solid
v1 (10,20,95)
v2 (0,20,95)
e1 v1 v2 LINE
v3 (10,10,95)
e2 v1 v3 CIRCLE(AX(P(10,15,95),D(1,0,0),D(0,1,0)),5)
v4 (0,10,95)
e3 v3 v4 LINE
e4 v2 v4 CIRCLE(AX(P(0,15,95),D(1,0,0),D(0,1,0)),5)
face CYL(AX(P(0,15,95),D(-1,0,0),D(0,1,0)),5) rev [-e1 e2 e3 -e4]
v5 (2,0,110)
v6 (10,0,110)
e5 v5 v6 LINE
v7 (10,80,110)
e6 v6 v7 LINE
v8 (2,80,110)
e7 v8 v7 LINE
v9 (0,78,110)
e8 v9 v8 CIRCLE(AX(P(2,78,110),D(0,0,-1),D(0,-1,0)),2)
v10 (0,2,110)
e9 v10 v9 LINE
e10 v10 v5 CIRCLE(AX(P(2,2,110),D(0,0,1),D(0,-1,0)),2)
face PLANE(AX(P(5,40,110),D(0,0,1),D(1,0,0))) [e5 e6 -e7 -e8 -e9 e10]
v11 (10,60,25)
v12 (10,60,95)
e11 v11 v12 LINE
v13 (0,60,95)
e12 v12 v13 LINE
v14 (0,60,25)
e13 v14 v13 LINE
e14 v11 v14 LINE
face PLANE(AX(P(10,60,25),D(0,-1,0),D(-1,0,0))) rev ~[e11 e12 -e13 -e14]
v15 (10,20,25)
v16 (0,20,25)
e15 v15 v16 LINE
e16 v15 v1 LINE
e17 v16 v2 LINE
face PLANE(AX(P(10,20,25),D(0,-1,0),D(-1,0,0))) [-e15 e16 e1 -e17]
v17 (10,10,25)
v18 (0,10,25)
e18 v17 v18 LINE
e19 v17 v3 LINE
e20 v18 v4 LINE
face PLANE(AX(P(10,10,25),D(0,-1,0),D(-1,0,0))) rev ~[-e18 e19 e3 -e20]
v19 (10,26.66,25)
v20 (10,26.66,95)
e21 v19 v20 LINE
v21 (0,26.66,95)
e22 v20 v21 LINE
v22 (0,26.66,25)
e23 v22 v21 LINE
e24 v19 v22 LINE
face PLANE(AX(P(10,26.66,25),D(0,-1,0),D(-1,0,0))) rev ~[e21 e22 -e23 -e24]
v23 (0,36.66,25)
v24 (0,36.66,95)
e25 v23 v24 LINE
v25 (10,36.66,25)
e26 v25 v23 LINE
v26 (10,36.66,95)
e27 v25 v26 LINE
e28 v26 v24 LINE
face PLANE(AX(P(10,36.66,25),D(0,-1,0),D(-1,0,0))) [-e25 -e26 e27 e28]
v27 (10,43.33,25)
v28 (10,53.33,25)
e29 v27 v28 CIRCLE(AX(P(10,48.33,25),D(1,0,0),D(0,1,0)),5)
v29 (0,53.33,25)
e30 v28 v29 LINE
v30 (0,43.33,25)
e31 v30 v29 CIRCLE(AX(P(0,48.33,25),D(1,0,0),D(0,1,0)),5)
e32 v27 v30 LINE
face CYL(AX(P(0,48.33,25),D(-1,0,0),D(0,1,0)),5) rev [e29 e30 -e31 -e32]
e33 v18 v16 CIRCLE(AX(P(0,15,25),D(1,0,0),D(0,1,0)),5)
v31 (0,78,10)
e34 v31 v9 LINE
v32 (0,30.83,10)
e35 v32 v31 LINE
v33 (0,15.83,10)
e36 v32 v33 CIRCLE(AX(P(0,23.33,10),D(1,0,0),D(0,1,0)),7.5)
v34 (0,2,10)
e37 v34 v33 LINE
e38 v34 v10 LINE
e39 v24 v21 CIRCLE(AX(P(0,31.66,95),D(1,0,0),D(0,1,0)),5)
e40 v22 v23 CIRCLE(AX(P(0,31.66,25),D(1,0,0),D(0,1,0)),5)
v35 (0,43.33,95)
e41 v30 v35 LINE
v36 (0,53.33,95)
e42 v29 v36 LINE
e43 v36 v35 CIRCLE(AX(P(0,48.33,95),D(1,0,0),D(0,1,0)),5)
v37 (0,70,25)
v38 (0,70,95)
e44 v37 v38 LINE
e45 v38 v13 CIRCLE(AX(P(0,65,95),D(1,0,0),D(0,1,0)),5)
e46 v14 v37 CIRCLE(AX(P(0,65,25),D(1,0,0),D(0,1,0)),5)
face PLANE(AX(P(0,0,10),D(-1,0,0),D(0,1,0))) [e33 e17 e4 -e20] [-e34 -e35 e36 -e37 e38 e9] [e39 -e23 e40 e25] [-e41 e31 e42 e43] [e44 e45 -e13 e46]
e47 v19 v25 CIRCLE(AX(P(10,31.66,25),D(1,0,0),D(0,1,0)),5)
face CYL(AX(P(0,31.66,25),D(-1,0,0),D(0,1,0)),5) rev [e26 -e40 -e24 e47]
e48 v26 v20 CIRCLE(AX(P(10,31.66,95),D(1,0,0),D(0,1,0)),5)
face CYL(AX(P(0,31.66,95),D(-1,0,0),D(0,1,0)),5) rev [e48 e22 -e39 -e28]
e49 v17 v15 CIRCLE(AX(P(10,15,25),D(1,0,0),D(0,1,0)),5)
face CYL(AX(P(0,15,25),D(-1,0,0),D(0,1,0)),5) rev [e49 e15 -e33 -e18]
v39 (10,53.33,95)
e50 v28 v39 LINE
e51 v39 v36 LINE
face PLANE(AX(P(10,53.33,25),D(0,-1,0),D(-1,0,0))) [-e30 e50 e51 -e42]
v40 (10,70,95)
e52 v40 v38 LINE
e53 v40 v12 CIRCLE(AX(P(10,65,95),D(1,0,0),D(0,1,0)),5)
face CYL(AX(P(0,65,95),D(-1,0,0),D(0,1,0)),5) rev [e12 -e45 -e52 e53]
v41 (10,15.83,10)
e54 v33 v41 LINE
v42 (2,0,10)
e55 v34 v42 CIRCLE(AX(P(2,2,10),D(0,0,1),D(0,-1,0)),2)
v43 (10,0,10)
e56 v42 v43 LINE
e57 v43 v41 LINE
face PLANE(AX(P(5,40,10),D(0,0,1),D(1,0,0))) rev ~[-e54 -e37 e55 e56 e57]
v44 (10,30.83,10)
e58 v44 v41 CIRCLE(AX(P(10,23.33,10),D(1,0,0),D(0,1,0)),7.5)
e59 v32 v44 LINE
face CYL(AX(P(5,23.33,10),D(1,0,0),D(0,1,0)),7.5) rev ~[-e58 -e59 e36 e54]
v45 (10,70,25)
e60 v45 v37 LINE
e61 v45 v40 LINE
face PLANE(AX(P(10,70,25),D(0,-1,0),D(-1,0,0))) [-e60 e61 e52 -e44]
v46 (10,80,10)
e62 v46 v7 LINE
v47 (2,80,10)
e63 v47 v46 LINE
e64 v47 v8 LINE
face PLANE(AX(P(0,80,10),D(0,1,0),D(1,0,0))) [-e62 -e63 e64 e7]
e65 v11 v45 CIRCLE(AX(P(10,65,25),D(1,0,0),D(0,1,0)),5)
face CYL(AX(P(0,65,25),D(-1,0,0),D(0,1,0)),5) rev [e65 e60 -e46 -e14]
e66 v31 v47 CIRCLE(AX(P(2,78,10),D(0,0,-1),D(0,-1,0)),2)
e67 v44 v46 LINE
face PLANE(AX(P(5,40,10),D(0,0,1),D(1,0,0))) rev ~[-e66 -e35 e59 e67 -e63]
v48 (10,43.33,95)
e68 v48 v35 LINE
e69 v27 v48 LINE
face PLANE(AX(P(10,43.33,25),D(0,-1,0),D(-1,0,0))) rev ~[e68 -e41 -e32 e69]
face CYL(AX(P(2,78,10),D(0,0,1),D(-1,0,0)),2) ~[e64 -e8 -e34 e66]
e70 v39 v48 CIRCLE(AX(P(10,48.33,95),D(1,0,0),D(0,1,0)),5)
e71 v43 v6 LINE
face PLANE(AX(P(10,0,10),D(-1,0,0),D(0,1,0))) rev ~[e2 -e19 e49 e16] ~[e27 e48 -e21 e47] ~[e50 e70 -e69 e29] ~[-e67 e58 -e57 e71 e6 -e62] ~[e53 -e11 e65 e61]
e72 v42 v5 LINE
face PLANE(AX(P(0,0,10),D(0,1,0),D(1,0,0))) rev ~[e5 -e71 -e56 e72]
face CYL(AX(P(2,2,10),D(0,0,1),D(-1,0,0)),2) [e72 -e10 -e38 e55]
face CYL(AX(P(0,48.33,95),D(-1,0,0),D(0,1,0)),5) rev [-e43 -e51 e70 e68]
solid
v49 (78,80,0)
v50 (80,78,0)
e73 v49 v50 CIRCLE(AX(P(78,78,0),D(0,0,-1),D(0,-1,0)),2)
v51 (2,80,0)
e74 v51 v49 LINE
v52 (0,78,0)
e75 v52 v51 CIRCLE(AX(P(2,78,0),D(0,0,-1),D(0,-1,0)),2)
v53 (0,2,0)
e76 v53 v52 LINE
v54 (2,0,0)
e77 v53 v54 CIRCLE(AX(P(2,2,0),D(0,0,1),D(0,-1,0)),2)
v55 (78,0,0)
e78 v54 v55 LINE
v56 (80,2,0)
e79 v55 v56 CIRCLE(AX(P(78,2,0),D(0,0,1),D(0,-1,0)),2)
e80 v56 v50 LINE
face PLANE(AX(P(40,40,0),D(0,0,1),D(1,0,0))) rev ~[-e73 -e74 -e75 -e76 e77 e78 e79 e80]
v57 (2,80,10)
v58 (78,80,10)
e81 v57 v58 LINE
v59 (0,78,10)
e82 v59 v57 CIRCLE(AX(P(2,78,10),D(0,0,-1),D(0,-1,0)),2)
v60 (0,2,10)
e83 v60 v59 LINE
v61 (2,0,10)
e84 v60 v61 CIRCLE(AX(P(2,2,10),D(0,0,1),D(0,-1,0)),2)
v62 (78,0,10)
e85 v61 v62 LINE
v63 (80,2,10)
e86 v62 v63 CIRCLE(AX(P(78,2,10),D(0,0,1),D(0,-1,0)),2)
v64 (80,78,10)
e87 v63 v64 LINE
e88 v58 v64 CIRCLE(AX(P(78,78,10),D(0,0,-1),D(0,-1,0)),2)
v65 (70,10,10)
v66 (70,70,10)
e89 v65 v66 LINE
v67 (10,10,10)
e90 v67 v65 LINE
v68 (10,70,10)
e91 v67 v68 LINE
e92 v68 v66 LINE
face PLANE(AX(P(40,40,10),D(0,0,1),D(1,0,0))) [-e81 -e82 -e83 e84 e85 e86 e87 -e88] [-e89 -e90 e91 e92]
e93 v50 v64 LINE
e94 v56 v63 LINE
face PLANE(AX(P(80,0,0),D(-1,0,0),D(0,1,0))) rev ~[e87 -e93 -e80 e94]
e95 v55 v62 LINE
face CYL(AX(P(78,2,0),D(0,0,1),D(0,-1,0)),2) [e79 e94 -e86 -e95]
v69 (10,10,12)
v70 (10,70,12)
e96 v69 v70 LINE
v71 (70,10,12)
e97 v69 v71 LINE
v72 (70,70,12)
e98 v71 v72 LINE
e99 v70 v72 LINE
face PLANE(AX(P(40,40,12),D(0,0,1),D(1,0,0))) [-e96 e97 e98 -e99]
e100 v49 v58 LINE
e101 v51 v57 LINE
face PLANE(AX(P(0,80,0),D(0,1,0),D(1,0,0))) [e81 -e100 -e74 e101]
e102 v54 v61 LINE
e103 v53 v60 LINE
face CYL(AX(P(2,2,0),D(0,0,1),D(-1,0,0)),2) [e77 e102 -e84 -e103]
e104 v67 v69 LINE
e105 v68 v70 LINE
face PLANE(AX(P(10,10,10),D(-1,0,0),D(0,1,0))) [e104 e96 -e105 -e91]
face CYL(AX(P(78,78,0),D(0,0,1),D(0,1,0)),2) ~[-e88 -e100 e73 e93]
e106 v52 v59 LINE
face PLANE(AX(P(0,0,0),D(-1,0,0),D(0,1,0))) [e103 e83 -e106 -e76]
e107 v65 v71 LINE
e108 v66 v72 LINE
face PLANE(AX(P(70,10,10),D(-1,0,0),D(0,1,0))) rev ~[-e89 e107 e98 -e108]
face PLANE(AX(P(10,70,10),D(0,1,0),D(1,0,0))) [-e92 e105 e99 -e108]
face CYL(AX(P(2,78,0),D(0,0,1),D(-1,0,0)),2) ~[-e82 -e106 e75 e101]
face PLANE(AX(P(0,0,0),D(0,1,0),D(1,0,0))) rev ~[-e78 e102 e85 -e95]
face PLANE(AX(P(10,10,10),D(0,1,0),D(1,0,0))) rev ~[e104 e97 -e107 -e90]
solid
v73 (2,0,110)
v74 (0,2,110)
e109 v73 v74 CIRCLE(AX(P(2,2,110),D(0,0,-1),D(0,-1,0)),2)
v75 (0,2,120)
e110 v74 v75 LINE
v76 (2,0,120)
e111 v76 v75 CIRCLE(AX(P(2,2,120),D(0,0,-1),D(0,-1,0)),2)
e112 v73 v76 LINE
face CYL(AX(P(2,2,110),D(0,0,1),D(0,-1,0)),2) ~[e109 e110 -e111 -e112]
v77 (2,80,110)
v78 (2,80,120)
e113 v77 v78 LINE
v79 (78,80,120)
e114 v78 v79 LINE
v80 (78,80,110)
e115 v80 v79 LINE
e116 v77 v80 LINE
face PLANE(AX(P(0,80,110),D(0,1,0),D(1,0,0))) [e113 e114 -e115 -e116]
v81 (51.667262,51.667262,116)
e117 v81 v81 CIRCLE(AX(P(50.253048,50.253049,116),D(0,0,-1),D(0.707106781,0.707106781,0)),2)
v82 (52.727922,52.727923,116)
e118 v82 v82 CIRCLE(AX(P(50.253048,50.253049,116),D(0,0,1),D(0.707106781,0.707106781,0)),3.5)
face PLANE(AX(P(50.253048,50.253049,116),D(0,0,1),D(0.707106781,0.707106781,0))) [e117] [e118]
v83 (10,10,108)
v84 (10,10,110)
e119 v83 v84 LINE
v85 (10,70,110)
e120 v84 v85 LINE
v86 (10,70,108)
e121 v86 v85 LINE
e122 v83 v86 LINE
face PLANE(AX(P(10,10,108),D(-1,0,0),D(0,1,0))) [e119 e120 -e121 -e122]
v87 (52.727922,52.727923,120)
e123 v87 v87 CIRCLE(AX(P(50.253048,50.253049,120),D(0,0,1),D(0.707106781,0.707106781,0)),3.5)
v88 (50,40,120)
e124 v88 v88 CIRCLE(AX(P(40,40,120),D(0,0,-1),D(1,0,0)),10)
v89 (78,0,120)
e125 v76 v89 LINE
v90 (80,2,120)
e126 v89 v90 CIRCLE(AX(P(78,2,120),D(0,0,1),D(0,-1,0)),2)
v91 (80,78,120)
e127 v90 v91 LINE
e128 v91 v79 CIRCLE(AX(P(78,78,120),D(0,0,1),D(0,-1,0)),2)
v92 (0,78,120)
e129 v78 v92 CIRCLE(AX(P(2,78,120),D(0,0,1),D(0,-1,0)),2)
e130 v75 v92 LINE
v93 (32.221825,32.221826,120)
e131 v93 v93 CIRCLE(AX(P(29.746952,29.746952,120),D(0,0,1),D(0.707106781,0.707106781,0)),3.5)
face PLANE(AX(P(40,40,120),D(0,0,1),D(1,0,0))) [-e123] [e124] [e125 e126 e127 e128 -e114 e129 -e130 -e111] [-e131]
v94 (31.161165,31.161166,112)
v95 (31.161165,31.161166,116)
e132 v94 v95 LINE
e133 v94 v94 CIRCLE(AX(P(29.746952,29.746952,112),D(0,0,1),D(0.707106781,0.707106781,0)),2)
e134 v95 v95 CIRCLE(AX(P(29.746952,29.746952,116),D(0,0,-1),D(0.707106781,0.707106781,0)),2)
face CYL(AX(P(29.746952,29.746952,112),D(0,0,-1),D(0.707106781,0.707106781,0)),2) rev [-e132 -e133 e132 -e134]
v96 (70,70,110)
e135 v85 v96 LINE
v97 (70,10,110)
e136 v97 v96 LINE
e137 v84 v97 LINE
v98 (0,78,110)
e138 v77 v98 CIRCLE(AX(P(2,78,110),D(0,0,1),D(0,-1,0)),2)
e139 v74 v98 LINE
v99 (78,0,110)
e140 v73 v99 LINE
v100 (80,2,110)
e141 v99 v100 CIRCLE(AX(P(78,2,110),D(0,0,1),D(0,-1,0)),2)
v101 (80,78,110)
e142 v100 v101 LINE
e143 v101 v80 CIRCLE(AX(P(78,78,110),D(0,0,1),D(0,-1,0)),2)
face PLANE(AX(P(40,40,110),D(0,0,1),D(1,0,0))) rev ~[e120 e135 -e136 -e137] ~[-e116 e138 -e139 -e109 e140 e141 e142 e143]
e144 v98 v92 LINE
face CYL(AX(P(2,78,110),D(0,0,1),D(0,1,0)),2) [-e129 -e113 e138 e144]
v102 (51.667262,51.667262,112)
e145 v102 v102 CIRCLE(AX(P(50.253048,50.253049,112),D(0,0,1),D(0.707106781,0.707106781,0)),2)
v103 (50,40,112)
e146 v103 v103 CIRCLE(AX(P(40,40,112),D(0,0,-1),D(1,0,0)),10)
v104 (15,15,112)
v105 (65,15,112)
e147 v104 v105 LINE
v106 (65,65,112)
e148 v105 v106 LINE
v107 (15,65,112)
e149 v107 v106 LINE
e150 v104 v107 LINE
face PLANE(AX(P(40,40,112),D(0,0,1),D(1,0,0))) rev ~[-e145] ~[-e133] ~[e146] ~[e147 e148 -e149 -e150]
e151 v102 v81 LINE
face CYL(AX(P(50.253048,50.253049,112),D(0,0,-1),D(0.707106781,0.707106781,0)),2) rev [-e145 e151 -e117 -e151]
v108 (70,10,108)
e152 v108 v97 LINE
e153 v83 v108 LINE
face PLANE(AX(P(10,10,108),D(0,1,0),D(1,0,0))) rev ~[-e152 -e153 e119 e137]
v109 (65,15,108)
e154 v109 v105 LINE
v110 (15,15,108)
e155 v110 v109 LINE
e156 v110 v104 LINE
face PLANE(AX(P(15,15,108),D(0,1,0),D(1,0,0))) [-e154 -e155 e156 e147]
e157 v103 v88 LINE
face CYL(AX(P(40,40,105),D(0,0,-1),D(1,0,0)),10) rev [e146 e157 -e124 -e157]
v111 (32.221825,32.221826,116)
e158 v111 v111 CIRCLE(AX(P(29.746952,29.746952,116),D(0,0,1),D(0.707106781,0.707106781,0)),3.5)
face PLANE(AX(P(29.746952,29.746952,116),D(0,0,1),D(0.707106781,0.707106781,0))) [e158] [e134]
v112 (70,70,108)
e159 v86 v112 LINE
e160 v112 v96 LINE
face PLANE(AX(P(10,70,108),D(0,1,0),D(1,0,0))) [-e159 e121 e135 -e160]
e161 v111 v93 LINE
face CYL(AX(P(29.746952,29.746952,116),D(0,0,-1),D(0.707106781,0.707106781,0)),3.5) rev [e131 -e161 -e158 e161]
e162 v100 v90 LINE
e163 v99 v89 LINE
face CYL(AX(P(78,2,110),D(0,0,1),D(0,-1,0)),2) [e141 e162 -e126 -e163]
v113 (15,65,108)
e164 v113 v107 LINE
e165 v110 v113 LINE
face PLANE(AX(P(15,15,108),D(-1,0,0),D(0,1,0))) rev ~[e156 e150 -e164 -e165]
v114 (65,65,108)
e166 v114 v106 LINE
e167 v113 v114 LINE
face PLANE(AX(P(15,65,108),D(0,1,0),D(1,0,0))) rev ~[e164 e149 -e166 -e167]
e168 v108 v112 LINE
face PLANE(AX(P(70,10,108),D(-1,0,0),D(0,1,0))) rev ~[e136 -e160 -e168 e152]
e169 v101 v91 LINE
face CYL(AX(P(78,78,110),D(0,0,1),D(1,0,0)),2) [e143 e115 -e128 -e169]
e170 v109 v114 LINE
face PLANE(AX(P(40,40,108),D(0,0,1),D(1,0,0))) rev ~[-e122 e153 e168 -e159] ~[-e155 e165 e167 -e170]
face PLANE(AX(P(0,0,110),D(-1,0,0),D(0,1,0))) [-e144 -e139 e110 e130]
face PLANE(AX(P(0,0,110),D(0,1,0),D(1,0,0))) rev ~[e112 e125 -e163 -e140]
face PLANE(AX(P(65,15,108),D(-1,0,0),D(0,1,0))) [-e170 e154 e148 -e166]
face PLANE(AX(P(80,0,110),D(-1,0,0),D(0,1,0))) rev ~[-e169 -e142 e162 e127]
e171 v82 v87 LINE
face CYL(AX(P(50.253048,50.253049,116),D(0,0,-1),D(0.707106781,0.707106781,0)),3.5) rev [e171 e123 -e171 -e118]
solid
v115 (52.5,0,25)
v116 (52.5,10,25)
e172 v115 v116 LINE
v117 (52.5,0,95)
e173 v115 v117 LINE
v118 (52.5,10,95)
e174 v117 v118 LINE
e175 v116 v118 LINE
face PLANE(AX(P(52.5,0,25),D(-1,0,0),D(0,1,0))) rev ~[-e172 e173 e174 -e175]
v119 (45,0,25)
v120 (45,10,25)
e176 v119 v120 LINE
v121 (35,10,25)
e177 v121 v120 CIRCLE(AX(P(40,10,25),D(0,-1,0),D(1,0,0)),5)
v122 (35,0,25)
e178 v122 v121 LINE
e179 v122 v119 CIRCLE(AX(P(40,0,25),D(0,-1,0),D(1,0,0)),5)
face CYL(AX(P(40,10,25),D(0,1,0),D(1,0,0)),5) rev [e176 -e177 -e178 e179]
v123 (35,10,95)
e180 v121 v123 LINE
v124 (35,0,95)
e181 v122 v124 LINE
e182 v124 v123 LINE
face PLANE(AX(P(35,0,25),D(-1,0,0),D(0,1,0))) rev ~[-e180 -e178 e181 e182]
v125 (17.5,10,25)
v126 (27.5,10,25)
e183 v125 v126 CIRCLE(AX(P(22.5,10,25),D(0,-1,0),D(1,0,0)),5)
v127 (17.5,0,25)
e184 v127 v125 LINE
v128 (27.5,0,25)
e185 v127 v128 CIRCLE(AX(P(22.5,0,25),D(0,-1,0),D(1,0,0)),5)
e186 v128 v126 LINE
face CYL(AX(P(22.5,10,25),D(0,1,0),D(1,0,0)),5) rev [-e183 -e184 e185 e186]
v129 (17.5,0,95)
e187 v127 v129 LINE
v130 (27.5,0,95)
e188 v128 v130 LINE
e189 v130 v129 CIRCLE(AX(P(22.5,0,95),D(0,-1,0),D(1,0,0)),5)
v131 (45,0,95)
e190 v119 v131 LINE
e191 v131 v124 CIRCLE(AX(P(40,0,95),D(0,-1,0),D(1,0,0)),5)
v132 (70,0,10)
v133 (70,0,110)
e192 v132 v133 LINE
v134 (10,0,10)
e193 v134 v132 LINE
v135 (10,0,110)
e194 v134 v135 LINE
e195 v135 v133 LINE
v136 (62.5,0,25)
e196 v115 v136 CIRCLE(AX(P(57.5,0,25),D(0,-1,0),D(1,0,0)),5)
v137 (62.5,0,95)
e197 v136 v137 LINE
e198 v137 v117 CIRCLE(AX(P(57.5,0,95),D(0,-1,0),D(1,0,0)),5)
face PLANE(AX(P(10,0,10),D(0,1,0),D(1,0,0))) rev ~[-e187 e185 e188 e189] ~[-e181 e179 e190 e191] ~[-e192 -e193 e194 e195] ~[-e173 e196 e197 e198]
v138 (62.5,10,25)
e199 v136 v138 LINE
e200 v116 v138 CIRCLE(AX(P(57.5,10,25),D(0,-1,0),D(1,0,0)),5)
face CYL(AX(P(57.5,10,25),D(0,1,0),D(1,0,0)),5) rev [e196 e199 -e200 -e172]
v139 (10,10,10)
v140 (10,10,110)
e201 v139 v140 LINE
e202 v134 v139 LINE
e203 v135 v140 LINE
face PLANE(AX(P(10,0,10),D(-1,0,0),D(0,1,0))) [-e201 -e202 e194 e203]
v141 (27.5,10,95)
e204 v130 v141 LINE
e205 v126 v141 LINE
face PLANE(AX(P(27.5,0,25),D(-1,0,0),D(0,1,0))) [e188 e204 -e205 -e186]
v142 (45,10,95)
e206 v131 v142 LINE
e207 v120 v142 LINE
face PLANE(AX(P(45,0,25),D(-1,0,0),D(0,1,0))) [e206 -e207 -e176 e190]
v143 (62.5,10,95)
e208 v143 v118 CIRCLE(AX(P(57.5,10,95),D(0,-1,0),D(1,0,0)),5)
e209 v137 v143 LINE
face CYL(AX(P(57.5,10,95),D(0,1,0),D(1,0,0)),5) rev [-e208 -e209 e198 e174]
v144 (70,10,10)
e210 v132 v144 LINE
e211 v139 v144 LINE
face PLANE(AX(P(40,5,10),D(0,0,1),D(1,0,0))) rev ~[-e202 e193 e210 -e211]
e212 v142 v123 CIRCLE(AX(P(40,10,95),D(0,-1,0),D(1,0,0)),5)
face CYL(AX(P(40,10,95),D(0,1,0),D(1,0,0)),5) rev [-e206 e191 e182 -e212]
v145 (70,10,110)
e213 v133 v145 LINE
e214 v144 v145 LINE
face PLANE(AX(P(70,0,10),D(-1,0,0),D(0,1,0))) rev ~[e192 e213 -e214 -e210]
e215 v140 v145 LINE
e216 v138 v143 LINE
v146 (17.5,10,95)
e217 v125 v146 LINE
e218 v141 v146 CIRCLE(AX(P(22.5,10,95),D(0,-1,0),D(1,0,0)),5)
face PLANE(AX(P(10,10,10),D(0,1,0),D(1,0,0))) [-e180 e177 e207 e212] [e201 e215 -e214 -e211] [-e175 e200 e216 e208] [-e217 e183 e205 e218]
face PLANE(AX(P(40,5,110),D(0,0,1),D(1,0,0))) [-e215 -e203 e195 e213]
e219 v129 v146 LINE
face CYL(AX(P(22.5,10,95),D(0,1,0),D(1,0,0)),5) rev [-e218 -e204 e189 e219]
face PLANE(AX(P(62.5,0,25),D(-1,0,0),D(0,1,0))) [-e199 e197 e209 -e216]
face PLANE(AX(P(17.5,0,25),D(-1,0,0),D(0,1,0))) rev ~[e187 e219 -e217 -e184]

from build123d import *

# Parameters (mm, degrees)
BOX004_W                  = 60
BOX004_H                  = 60
BOX004_DEPTH              = 2
BOX_W                     = 80
BOX_H                     = 80
BOX_DEPTH                 = 10
FILLET005_R               = 2
CYLINDER002_R             = 5
CYLINDER002_DEPTH         = 10
CYLINDER003_R             = 5
CYLINDER003_DEPTH         = 10
BOX008_W                  = 10
BOX008_H                  = 10
BOX008_DEPTH              = 70
CYLINDER004_R             = 5
CYLINDER004_DEPTH         = 10
CYLINDER005_R             = 5
CYLINDER005_DEPTH         = 10
BOX009_W                  = 10
BOX009_H                  = 10
BOX009_DEPTH              = 70
CYLINDER_R                = 5
CYLINDER_DEPTH            = 10
CYLINDER001_R             = 5
CYLINDER001_DEPTH         = 10
BOX007_W                  = 10
BOX007_H                  = 10
BOX007_DEPTH              = 70
BOX001_W                  = 60
BOX001_H                  = 10
BOX001_DEPTH              = 100
CYLINDER014_W             = 7.5
CYLINDER014_H             = 10
CYLINDER014_ANGLE         = 180
CYLINDER007_R             = 5
CYLINDER007_DEPTH         = 10
CYLINDER006_R             = 5
CYLINDER006_DEPTH         = 10
BOX010_W                  = 10
BOX010_H                  = 10
BOX010_DEPTH              = 70
FUSION003_PLACEMENT_ANGLE = 90
CYLINDER008_R             = 5
CYLINDER008_DEPTH         = 10
CYLINDER009_R             = 5
CYLINDER009_DEPTH         = 10
BOX011_W                  = 10
BOX011_H                  = 10
BOX011_DEPTH              = 70
FUSION004_PLACEMENT_ANGLE = 90
CYLINDER010_R             = 5
CYLINDER010_DEPTH         = 10
CYLINDER011_R             = 5
CYLINDER011_DEPTH         = 10
BOX012_W                  = 10
BOX012_H                  = 10
BOX012_DEPTH              = 70
FUSION005_PLACEMENT_ANGLE = 90
CYLINDER012_R             = 5
CYLINDER012_DEPTH         = 10
CYLINDER013_R             = 5
CYLINDER013_DEPTH         = 10
BOX013_W                  = 10
BOX013_H                  = 10
BOX013_DEPTH              = 70
FUSION006_PLACEMENT_ANGLE = 90
BOX002_W                  = 10
BOX002_H                  = 80
BOX002_DEPTH              = 100
FILLET001_R               = 2
FILLET011_R               = 2
CYLINDER033_R             = 10
CYLINDER033_DEPTH         = 20
CYLINDER031_R             = 3.5
CYLINDER031_DEPTH         = 4
CYLINDER032_R             = 2
CYLINDER032_DEPTH         = 20
CYLINDER030_R             = 3.5
CYLINDER030_DEPTH         = 4
CYLINDER029_R             = 2
CYLINDER029_DEPTH         = 20
FUSION014_PLACEMENT_ANGLE = 45
BOX020_W                  = 60
BOX020_H                  = 60
BOX020_DEPTH              = 8
BOX019_W                  = 50
BOX019_H                  = 50
BOX019_DEPTH              = 4
CYLINDER028_R             = 10
CYLINDER028_DEPTH         = 30
CYLINDER027_R             = 2
CYLINDER027_DEPTH         = 30
CYLINDER026_R             = 2
CYLINDER026_DEPTH         = 30
CYLINDER025_R             = 3.5
CYLINDER025_DEPTH         = 4
BOX005_W                  = 60
BOX005_H                  = 60
BOX005_DEPTH              = 2
CYLINDER023_R             = 3.5
CYLINDER023_DEPTH         = 4
CYLINDER024_R             = 2
CYLINDER024_DEPTH         = 20
CYLINDER022_R             = 2
CYLINDER022_DEPTH         = 20
CYLINDER021_R             = 10
CYLINDER021_DEPTH         = 15
BOX018_W                  = 60
BOX018_H                  = 60
BOX018_DEPTH              = 2
BOX017_W                  = 80
BOX017_H                  = 80
BOX017_DEPTH              = 10
FILLET006_R               = 2
FILLET007_R               = 2
FILLET008_R               = 2
FILLET009_R               = 2


with BuildPart() as cubo004:
    # Box004 → Box004 (new body)
    with BuildSketch(Plane(origin=(10, 10, 10), x_dir=(1, 0, 0), z_dir=(0, 0, 1))):
        with Locations((30, 30)):
            Rectangle(BOX004_W, BOX004_H)
    extrude(amount=BOX004_DEPTH)


with BuildPart() as fillet005:
    # Box → Box (new body)
    with BuildSketch(Plane.XY):
        with Locations((40, 40)):
            Rectangle(BOX_W, BOX_H)
    extrude(amount=BOX_DEPTH)

    # Fusion008: union Cubo004
    add(cubo004.part)

    # Fillet005
    fillet005_edges = [fillet005.edges().sort_by_distance(p)[0] for p in [
        (0, 0, 5),
        (0, 80, 5),
        (80, 0, 5),
        (80, 80, 5),
    ]]
    fillet(fillet005_edges, radius=FILLET005_R)


with BuildPart() as cilindro002:
    # Cylinder002 → Cylinder002 (new body)
    with BuildSketch(Plane(origin=(15, 10, 25), x_dir=(1, 0, 0), z_dir=(0, -1, 0))):
        Circle(CYLINDER002_R)
    extrude(amount=CYLINDER002_DEPTH)


with BuildPart() as cilindro003:
    # Cylinder003 → Cylinder003 (new body)
    with BuildSketch(Plane(origin=(15, 10, 95), x_dir=(1, 0, 0), z_dir=(0, -1, 0))):
        Circle(CYLINDER003_R)
    extrude(amount=CYLINDER003_DEPTH)


with BuildPart() as fusion001:
    # Box008 → Box008 (new body)
    with BuildSketch(Plane(origin=(10, 0, 25), x_dir=(1, 0, 0), z_dir=(0, 0, 1))):
        with Locations((5, 5)):
            Rectangle(BOX008_W, BOX008_H)
    extrude(amount=BOX008_DEPTH)

    # Fusion001: union Cilindro002, Cilindro003
    add(cilindro002.part)
    add(cilindro003.part)


with BuildPart() as fusion001_1:
    # Fusion001 placement: moved
    add(fusion001.part.moved(Location((25, 0, 0))))


with BuildPart() as cilindro004:
    # Cylinder004 → Cylinder004 (new body)
    with BuildSketch(Plane(origin=(15, 10, 25), x_dir=(1, 0, 0), z_dir=(0, -1, 0))):
        Circle(CYLINDER004_R)
    extrude(amount=CYLINDER004_DEPTH)


with BuildPart() as cilindro005:
    # Cylinder005 → Cylinder005 (new body)
    with BuildSketch(Plane(origin=(15, 10, 95), x_dir=(1, 0, 0), z_dir=(0, -1, 0))):
        Circle(CYLINDER005_R)
    extrude(amount=CYLINDER005_DEPTH)


with BuildPart() as fusion002:
    # Box009 → Box009 (new body)
    with BuildSketch(Plane(origin=(10, 0, 25), x_dir=(1, 0, 0), z_dir=(0, 0, 1))):
        with Locations((5, 5)):
            Rectangle(BOX009_W, BOX009_H)
    extrude(amount=BOX009_DEPTH)

    # Fusion002: union Cilindro004, Cilindro005
    add(cilindro004.part)
    add(cilindro005.part)


with BuildPart() as fusion002_1:
    # Fusion002 placement: moved
    add(fusion002.part.moved(Location((42.5, 0, 0))))


with BuildPart() as cilindro:
    # Cylinder → Cylinder (new body)
    with BuildSketch(Plane(origin=(15, 10, 25), x_dir=(1, 0, 0), z_dir=(0, -1, 0))):
        Circle(CYLINDER_R)
    extrude(amount=CYLINDER_DEPTH)


with BuildPart() as cilindro001:
    # Cylinder001 → Cylinder001 (new body)
    with BuildSketch(Plane(origin=(15, 10, 95), x_dir=(1, 0, 0), z_dir=(0, -1, 0))):
        Circle(CYLINDER001_R)
    extrude(amount=CYLINDER001_DEPTH)


with BuildPart() as fusion:
    # Box007 → Box007 (new body)
    with BuildSketch(Plane(origin=(10, 0, 25), x_dir=(1, 0, 0), z_dir=(0, 0, 1))):
        with Locations((5, 5)):
            Rectangle(BOX007_W, BOX007_H)
    extrude(amount=BOX007_DEPTH)

    # Fusion: union Cilindro, Cilindro001
    add(cilindro.part)
    add(cilindro001.part)


with BuildPart() as fusion_1:
    # Fusion placement: moved
    add(fusion.part.moved(Location((7.5, 0, 0))))


with BuildPart() as cut019:
    # Box001 → Box001 (new body)
    with BuildSketch(Plane(origin=(10, 0, 10), x_dir=(1, 0, 0), z_dir=(0, 0, 1))):
        with Locations((30, 5)):
            Rectangle(BOX001_W, BOX001_H)
    extrude(amount=BOX001_DEPTH)

    # Cut001: cut Fusion
    add(fusion_1.part, mode=Mode.SUBTRACT)

    # Cut018: cut Fusion002
    add(fusion002_1.part, mode=Mode.SUBTRACT)

    # Cut019: cut Fusion001
    add(fusion001_1.part, mode=Mode.SUBTRACT)


with BuildPart() as cilindro014:
    # Cylinder014 → Cylinder014 (revolve)
    with BuildSketch(Plane(origin=(0, 23.33, 10), x_dir=(0, 1, 0), z_dir=(0, 0, -1))):
        with Locations((3.75, 5)):
            Rectangle(CYLINDER014_W, CYLINDER014_H)
    revolve(axis=Axis((0, 23.33, 10), (1, 0, 0)), revolution_arc=CYLINDER014_ANGLE)


with BuildPart() as cilindro007:
    # Cylinder007 → Cylinder007 (new body)
    with BuildSketch(Plane(origin=(15, 10, 25), x_dir=(1, 0, 0), z_dir=(0, -1, 0))):
        Circle(CYLINDER007_R)
    extrude(amount=CYLINDER007_DEPTH)


with BuildPart() as cilindro006:
    # Cylinder006 → Cylinder006 (new body)
    with BuildSketch(Plane(origin=(15, 10, 95), x_dir=(1, 0, 0), z_dir=(0, -1, 0))):
        Circle(CYLINDER006_R)
    extrude(amount=CYLINDER006_DEPTH)


with BuildPart() as fusion003:
    # Box010 → Box010 (new body)
    with BuildSketch(Plane(origin=(10, 0, 25), x_dir=(1, 0, 0), z_dir=(0, 0, 1))):
        with Locations((5, 5)):
            Rectangle(BOX010_W, BOX010_H)
    extrude(amount=BOX010_DEPTH)

    # Fusion003: union Cilindro007, Cilindro006
    add(cilindro007.part)
    add(cilindro006.part)


with BuildPart() as fusion003_1:
    # Fusion003 placement: moved
    add(fusion003.part.moved(Location((10, 0, 0))).rotate(Axis((10, 0, 0), (0, 0, 1)), FUSION003_PLACEMENT_ANGLE))


with BuildPart() as cilindro008:
    # Cylinder008 → Cylinder008 (new body)
    with BuildSketch(Plane(origin=(15, 10, 25), x_dir=(1, 0, 0), z_dir=(0, -1, 0))):
        Circle(CYLINDER008_R)
    extrude(amount=CYLINDER008_DEPTH)


with BuildPart() as cilindro009:
    # Cylinder009 → Cylinder009 (new body)
    with BuildSketch(Plane(origin=(15, 10, 95), x_dir=(1, 0, 0), z_dir=(0, -1, 0))):
        Circle(CYLINDER009_R)
    extrude(amount=CYLINDER009_DEPTH)


with BuildPart() as fusion004:
    # Box011 → Box011 (new body)
    with BuildSketch(Plane(origin=(10, 0, 25), x_dir=(1, 0, 0), z_dir=(0, 0, 1))):
        with Locations((5, 5)):
            Rectangle(BOX011_W, BOX011_H)
    extrude(amount=BOX011_DEPTH)

    # Fusion004: union Cilindro008, Cilindro009
    add(cilindro008.part)
    add(cilindro009.part)


with BuildPart() as fusion004_1:
    # Fusion004 placement: moved
    add(fusion004.part.moved(Location((10, 16.66, 0))).rotate(Axis((10, 16.66, 0), (0, 0, 1)), FUSION004_PLACEMENT_ANGLE))


with BuildPart() as cilindro010:
    # Cylinder010 → Cylinder010 (new body)
    with BuildSketch(Plane(origin=(15, 10, 25), x_dir=(1, 0, 0), z_dir=(0, -1, 0))):
        Circle(CYLINDER010_R)
    extrude(amount=CYLINDER010_DEPTH)


with BuildPart() as cilindro011:
    # Cylinder011 → Cylinder011 (new body)
    with BuildSketch(Plane(origin=(15, 10, 95), x_dir=(1, 0, 0), z_dir=(0, -1, 0))):
        Circle(CYLINDER011_R)
    extrude(amount=CYLINDER011_DEPTH)


with BuildPart() as fusion005:
    # Box012 → Box012 (new body)
    with BuildSketch(Plane(origin=(10, 0, 25), x_dir=(1, 0, 0), z_dir=(0, 0, 1))):
        with Locations((5, 5)):
            Rectangle(BOX012_W, BOX012_H)
    extrude(amount=BOX012_DEPTH)

    # Fusion005: union Cilindro010, Cilindro011
    add(cilindro010.part)
    add(cilindro011.part)


with BuildPart() as fusion005_1:
    # Fusion005 placement: moved
    add(fusion005.part.moved(Location((10, 33.33, 0))).rotate(Axis((10, 33.33, 0), (0, 0, 1)), FUSION005_PLACEMENT_ANGLE))


with BuildPart() as cilindro012:
    # Cylinder012 → Cylinder012 (new body)
    with BuildSketch(Plane(origin=(15, 10, 25), x_dir=(1, 0, 0), z_dir=(0, -1, 0))):
        Circle(CYLINDER012_R)
    extrude(amount=CYLINDER012_DEPTH)


with BuildPart() as cilindro013:
    # Cylinder013 → Cylinder013 (new body)
    with BuildSketch(Plane(origin=(15, 10, 95), x_dir=(1, 0, 0), z_dir=(0, -1, 0))):
        Circle(CYLINDER013_R)
    extrude(amount=CYLINDER013_DEPTH)


with BuildPart() as fusion006:
    # Box013 → Box013 (new body)
    with BuildSketch(Plane(origin=(10, 0, 25), x_dir=(1, 0, 0), z_dir=(0, 0, 1))):
        with Locations((5, 5)):
            Rectangle(BOX013_W, BOX013_H)
    extrude(amount=BOX013_DEPTH)

    # Fusion006: union Cilindro012, Cilindro013
    add(cilindro012.part)
    add(cilindro013.part)


with BuildPart() as fusion006_1:
    # Fusion006 placement: moved
    add(fusion006.part.moved(Location((10, 50, 0))).rotate(Axis((10, 50, 0), (0, 0, 1)), FUSION006_PLACEMENT_ANGLE))


with BuildPart() as fillet011:
    # Box002 → Box002 (new body)
    with BuildSketch(Plane.XY.offset(10)):
        with Locations((5, 40)):
            Rectangle(BOX002_W, BOX002_H)
    extrude(amount=BOX002_DEPTH)

    # Cut: cut Fusion006
    add(fusion006_1.part, mode=Mode.SUBTRACT)

    # Cut004: cut Fusion005
    add(fusion005_1.part, mode=Mode.SUBTRACT)

    # Cut005: cut Fusion004
    add(fusion004_1.part, mode=Mode.SUBTRACT)

    # Cut006: cut Fusion003
    add(fusion003_1.part, mode=Mode.SUBTRACT)

    # Cut007: cut Cilindro014
    add(cilindro014.part, mode=Mode.SUBTRACT)

    # Fillet001
    fillet001_edges = [fillet011.edges().sort_by_distance(p)[0] for p in [
        (0, 0, 60),
    ]]
    fillet(fillet001_edges, radius=FILLET001_R)

    # Fillet011
    fillet011_edges = [fillet011.edges().sort_by_distance(p)[0] for p in [
        (0, 80, 60),
    ]]
    fillet(fillet011_edges, radius=FILLET011_R)


with BuildPart() as cilindro033:
    # Cylinder033 → Cylinder033 (new body)
    with BuildSketch(Plane(origin=(40, 40, 105), x_dir=(1, 0, 0), z_dir=(0, 0, 1))):
        Circle(CYLINDER033_R)
    extrude(amount=CYLINDER033_DEPTH)


with BuildPart() as cilindro031:
    # Cylinder031 → Cylinder031 (new body)
    with BuildSketch(Plane(origin=(54.5, 40, 116), x_dir=(1, 0, 0), z_dir=(0, 0, 1))):
        Circle(CYLINDER031_R)
    extrude(amount=CYLINDER031_DEPTH)


with BuildPart() as fusion013:
    # Cylinder032 → Cylinder032 (new body)
    with BuildSketch(Plane(origin=(54.5, 40, 112), x_dir=(1, 0, 0), z_dir=(0, 0, 1))):
        Circle(CYLINDER032_R)
    extrude(amount=CYLINDER032_DEPTH)

    # Fusion013: union Cilindro031
    add(cilindro031.part)


with BuildPart() as fusion013_1:
    # Fusion013 placement: moved
    add(fusion013.part.moved(Location((-29, 0, 0))))


with BuildPart() as cilindro030:
    # Cylinder030 → Cylinder030 (new body)
    with BuildSketch(Plane(origin=(54.5, 40, 116), x_dir=(1, 0, 0), z_dir=(0, 0, 1))):
        Circle(CYLINDER030_R)
    extrude(amount=CYLINDER030_DEPTH)


with BuildPart() as fusion014:
    # Cylinder029 → Cylinder029 (new body)
    with BuildSketch(Plane(origin=(54.5, 40, 112), x_dir=(1, 0, 0), z_dir=(0, 0, 1))):
        Circle(CYLINDER029_R)
    extrude(amount=CYLINDER029_DEPTH)

    # Fusion012: union Cilindro030
    add(cilindro030.part)

    # Fusion014: union Fusion013
    add(fusion013_1.part)


with BuildPart() as fusion014_1:
    # Fusion014 placement: moved
    add(fusion014.part.moved(Location((40, -16.568542, 0))).rotate(Axis((40, -16.568542, 0), (0, 0, 1)), FUSION014_PLACEMENT_ANGLE))


with BuildPart() as cubo020:
    # Box020 → Box020 (new body)
    with BuildSketch(Plane(origin=(10, 10, 112), x_dir=(1, 0, 0), z_dir=(0, 0, 1))):
        with Locations((30, 30)):
            Rectangle(BOX020_W, BOX020_H)
    extrude(amount=BOX020_DEPTH)


with BuildPart() as cubo019:
    # Box019 → Box019 (new body)
    with BuildSketch(Plane(origin=(15, 15, 108), x_dir=(1, 0, 0), z_dir=(0, 0, 1))):
        with Locations((25, 25)):
            Rectangle(BOX019_W, BOX019_H)
    extrude(amount=BOX019_DEPTH)


with BuildPart() as cilindro028:
    # Cylinder028 → Cylinder028 (new body)
    with BuildSketch(Plane(origin=(40, 40, 95), x_dir=(1, 0, 0), z_dir=(0, 0, 1))):
        Circle(CYLINDER028_R)
    extrude(amount=CYLINDER028_DEPTH)


with BuildPart() as cilindro027:
    # Cylinder027 → Cylinder027 (new body)
    with BuildSketch(Plane(origin=(25.5, 25.5, 95), x_dir=(1, 0, 0), z_dir=(0, 0, 1))):
        Circle(CYLINDER027_R)
    extrude(amount=CYLINDER027_DEPTH)


with BuildPart() as cilindro026:
    # Cylinder026 → Cylinder026 (new body)
    with BuildSketch(Plane(origin=(54.5, 54.5, 95), x_dir=(1, 0, 0), z_dir=(0, 0, 1))):
        Circle(CYLINDER026_R)
    extrude(amount=CYLINDER026_DEPTH)


with BuildPart() as cilindro025:
    # Cylinder025 → Cylinder025 (new body)
    with BuildSketch(Plane(origin=(54.5, 54.5, 116), x_dir=(1, 0, 0), z_dir=(0, 0, 1))):
        Circle(CYLINDER025_R)
    extrude(amount=CYLINDER025_DEPTH)


with BuildPart() as cubo005:
    # Box005 → Box005 (new body)
    with BuildSketch(Plane(origin=(10, 10, 108), x_dir=(1, 0, 0), z_dir=(0, 0, 1))):
        with Locations((30, 30)):
            Rectangle(BOX005_W, BOX005_H)
    extrude(amount=BOX005_DEPTH)


with BuildPart() as cilindro023:
    # Cylinder023 → Cylinder023 (new body)
    with BuildSketch(Plane(origin=(25.5, 25.5, 116), x_dir=(1, 0, 0), z_dir=(0, 0, 1))):
        Circle(CYLINDER023_R)
    extrude(amount=CYLINDER023_DEPTH)


with BuildPart() as cilindro024:
    # Cylinder024 → Cylinder024 (new body)
    with BuildSketch(Plane(origin=(25.5, 25.5, 105), x_dir=(1, 0, 0), z_dir=(0, 0, 1))):
        Circle(CYLINDER024_R)
    extrude(amount=CYLINDER024_DEPTH)


with BuildPart() as cilindro022:
    # Cylinder022 → Cylinder022 (new body)
    with BuildSketch(Plane(origin=(54.5, 54.5, 105), x_dir=(1, 0, 0), z_dir=(0, 0, 1))):
        Circle(CYLINDER022_R)
    extrude(amount=CYLINDER022_DEPTH)


with BuildPart() as cilindro021:
    # Cylinder021 → Cylinder021 (new body)
    with BuildSketch(Plane(origin=(40, 40, 106), x_dir=(1, 0, 0), z_dir=(0, 0, 1))):
        Circle(CYLINDER021_R)
    extrude(amount=CYLINDER021_DEPTH)


with BuildPart() as cubo018:
    # Box018 → Box018 (new body)
    with BuildSketch(Plane(origin=(10, 10, 108), x_dir=(1, 0, 0), z_dir=(0, 0, 1))):
        with Locations((30, 30)):
            Rectangle(BOX018_W, BOX018_H)
    extrude(amount=BOX018_DEPTH)


with BuildPart() as cut026:
    # Box017 → Box017 (new body)
    with BuildSketch(Plane.XY.offset(110)):
        with Locations((40, 40)):
            Rectangle(BOX017_W, BOX017_H)
    extrude(amount=BOX017_DEPTH)

    # Fusion009: union Cubo018
    add(cubo018.part)

    # Cut016: cut Cilindro021
    add(cilindro021.part, mode=Mode.SUBTRACT)

    # Cut014: cut Cilindro022
    add(cilindro022.part, mode=Mode.SUBTRACT)

    # Cut013: cut Cilindro024
    add(cilindro024.part, mode=Mode.SUBTRACT)

    # Cut017: cut Cilindro023
    add(cilindro023.part, mode=Mode.SUBTRACT)

    # Fusion010: union Cubo005
    add(cubo005.part)

    # Cut020: cut Cilindro025
    add(cilindro025.part, mode=Mode.SUBTRACT)

    # Cut021: cut Cilindro026
    add(cilindro026.part, mode=Mode.SUBTRACT)

    # Cut022: cut Cilindro027
    add(cilindro027.part, mode=Mode.SUBTRACT)

    # Cut023: cut Cilindro028
    add(cilindro028.part, mode=Mode.SUBTRACT)

    # Fillet006
    fillet006_edges = [cut026.edges().sort_by_distance(p)[0] for p in [
        (0, 0, 115),
    ]]
    fillet(fillet006_edges, radius=FILLET006_R)

    # Fillet007
    fillet007_edges = [cut026.edges().sort_by_distance(p)[0] for p in [
        (80, 0, 115),
    ]]
    fillet(fillet007_edges, radius=FILLET007_R)

    # Fillet008
    fillet008_edges = [cut026.edges().sort_by_distance(p)[0] for p in [
        (80, 80, 115),
    ]]
    fillet(fillet008_edges, radius=FILLET008_R)

    # Fillet009
    fillet009_edges = [cut026.edges().sort_by_distance(p)[0] for p in [
        (0, 80, 115),
    ]]
    fillet(fillet009_edges, radius=FILLET009_R)

    # Cut024: cut Cubo019
    add(cubo019.part, mode=Mode.SUBTRACT)

    # Fusion011: union Cubo020
    add(cubo020.part)

    # Cut025: cut Fusion014
    add(fusion014_1.part, mode=Mode.SUBTRACT)

    # Cut026: cut Cilindro033
    add(cilindro033.part, mode=Mode.SUBTRACT)


solid = Compound([fillet005.part, cut019.part, fillet011.part, cut026.part])
